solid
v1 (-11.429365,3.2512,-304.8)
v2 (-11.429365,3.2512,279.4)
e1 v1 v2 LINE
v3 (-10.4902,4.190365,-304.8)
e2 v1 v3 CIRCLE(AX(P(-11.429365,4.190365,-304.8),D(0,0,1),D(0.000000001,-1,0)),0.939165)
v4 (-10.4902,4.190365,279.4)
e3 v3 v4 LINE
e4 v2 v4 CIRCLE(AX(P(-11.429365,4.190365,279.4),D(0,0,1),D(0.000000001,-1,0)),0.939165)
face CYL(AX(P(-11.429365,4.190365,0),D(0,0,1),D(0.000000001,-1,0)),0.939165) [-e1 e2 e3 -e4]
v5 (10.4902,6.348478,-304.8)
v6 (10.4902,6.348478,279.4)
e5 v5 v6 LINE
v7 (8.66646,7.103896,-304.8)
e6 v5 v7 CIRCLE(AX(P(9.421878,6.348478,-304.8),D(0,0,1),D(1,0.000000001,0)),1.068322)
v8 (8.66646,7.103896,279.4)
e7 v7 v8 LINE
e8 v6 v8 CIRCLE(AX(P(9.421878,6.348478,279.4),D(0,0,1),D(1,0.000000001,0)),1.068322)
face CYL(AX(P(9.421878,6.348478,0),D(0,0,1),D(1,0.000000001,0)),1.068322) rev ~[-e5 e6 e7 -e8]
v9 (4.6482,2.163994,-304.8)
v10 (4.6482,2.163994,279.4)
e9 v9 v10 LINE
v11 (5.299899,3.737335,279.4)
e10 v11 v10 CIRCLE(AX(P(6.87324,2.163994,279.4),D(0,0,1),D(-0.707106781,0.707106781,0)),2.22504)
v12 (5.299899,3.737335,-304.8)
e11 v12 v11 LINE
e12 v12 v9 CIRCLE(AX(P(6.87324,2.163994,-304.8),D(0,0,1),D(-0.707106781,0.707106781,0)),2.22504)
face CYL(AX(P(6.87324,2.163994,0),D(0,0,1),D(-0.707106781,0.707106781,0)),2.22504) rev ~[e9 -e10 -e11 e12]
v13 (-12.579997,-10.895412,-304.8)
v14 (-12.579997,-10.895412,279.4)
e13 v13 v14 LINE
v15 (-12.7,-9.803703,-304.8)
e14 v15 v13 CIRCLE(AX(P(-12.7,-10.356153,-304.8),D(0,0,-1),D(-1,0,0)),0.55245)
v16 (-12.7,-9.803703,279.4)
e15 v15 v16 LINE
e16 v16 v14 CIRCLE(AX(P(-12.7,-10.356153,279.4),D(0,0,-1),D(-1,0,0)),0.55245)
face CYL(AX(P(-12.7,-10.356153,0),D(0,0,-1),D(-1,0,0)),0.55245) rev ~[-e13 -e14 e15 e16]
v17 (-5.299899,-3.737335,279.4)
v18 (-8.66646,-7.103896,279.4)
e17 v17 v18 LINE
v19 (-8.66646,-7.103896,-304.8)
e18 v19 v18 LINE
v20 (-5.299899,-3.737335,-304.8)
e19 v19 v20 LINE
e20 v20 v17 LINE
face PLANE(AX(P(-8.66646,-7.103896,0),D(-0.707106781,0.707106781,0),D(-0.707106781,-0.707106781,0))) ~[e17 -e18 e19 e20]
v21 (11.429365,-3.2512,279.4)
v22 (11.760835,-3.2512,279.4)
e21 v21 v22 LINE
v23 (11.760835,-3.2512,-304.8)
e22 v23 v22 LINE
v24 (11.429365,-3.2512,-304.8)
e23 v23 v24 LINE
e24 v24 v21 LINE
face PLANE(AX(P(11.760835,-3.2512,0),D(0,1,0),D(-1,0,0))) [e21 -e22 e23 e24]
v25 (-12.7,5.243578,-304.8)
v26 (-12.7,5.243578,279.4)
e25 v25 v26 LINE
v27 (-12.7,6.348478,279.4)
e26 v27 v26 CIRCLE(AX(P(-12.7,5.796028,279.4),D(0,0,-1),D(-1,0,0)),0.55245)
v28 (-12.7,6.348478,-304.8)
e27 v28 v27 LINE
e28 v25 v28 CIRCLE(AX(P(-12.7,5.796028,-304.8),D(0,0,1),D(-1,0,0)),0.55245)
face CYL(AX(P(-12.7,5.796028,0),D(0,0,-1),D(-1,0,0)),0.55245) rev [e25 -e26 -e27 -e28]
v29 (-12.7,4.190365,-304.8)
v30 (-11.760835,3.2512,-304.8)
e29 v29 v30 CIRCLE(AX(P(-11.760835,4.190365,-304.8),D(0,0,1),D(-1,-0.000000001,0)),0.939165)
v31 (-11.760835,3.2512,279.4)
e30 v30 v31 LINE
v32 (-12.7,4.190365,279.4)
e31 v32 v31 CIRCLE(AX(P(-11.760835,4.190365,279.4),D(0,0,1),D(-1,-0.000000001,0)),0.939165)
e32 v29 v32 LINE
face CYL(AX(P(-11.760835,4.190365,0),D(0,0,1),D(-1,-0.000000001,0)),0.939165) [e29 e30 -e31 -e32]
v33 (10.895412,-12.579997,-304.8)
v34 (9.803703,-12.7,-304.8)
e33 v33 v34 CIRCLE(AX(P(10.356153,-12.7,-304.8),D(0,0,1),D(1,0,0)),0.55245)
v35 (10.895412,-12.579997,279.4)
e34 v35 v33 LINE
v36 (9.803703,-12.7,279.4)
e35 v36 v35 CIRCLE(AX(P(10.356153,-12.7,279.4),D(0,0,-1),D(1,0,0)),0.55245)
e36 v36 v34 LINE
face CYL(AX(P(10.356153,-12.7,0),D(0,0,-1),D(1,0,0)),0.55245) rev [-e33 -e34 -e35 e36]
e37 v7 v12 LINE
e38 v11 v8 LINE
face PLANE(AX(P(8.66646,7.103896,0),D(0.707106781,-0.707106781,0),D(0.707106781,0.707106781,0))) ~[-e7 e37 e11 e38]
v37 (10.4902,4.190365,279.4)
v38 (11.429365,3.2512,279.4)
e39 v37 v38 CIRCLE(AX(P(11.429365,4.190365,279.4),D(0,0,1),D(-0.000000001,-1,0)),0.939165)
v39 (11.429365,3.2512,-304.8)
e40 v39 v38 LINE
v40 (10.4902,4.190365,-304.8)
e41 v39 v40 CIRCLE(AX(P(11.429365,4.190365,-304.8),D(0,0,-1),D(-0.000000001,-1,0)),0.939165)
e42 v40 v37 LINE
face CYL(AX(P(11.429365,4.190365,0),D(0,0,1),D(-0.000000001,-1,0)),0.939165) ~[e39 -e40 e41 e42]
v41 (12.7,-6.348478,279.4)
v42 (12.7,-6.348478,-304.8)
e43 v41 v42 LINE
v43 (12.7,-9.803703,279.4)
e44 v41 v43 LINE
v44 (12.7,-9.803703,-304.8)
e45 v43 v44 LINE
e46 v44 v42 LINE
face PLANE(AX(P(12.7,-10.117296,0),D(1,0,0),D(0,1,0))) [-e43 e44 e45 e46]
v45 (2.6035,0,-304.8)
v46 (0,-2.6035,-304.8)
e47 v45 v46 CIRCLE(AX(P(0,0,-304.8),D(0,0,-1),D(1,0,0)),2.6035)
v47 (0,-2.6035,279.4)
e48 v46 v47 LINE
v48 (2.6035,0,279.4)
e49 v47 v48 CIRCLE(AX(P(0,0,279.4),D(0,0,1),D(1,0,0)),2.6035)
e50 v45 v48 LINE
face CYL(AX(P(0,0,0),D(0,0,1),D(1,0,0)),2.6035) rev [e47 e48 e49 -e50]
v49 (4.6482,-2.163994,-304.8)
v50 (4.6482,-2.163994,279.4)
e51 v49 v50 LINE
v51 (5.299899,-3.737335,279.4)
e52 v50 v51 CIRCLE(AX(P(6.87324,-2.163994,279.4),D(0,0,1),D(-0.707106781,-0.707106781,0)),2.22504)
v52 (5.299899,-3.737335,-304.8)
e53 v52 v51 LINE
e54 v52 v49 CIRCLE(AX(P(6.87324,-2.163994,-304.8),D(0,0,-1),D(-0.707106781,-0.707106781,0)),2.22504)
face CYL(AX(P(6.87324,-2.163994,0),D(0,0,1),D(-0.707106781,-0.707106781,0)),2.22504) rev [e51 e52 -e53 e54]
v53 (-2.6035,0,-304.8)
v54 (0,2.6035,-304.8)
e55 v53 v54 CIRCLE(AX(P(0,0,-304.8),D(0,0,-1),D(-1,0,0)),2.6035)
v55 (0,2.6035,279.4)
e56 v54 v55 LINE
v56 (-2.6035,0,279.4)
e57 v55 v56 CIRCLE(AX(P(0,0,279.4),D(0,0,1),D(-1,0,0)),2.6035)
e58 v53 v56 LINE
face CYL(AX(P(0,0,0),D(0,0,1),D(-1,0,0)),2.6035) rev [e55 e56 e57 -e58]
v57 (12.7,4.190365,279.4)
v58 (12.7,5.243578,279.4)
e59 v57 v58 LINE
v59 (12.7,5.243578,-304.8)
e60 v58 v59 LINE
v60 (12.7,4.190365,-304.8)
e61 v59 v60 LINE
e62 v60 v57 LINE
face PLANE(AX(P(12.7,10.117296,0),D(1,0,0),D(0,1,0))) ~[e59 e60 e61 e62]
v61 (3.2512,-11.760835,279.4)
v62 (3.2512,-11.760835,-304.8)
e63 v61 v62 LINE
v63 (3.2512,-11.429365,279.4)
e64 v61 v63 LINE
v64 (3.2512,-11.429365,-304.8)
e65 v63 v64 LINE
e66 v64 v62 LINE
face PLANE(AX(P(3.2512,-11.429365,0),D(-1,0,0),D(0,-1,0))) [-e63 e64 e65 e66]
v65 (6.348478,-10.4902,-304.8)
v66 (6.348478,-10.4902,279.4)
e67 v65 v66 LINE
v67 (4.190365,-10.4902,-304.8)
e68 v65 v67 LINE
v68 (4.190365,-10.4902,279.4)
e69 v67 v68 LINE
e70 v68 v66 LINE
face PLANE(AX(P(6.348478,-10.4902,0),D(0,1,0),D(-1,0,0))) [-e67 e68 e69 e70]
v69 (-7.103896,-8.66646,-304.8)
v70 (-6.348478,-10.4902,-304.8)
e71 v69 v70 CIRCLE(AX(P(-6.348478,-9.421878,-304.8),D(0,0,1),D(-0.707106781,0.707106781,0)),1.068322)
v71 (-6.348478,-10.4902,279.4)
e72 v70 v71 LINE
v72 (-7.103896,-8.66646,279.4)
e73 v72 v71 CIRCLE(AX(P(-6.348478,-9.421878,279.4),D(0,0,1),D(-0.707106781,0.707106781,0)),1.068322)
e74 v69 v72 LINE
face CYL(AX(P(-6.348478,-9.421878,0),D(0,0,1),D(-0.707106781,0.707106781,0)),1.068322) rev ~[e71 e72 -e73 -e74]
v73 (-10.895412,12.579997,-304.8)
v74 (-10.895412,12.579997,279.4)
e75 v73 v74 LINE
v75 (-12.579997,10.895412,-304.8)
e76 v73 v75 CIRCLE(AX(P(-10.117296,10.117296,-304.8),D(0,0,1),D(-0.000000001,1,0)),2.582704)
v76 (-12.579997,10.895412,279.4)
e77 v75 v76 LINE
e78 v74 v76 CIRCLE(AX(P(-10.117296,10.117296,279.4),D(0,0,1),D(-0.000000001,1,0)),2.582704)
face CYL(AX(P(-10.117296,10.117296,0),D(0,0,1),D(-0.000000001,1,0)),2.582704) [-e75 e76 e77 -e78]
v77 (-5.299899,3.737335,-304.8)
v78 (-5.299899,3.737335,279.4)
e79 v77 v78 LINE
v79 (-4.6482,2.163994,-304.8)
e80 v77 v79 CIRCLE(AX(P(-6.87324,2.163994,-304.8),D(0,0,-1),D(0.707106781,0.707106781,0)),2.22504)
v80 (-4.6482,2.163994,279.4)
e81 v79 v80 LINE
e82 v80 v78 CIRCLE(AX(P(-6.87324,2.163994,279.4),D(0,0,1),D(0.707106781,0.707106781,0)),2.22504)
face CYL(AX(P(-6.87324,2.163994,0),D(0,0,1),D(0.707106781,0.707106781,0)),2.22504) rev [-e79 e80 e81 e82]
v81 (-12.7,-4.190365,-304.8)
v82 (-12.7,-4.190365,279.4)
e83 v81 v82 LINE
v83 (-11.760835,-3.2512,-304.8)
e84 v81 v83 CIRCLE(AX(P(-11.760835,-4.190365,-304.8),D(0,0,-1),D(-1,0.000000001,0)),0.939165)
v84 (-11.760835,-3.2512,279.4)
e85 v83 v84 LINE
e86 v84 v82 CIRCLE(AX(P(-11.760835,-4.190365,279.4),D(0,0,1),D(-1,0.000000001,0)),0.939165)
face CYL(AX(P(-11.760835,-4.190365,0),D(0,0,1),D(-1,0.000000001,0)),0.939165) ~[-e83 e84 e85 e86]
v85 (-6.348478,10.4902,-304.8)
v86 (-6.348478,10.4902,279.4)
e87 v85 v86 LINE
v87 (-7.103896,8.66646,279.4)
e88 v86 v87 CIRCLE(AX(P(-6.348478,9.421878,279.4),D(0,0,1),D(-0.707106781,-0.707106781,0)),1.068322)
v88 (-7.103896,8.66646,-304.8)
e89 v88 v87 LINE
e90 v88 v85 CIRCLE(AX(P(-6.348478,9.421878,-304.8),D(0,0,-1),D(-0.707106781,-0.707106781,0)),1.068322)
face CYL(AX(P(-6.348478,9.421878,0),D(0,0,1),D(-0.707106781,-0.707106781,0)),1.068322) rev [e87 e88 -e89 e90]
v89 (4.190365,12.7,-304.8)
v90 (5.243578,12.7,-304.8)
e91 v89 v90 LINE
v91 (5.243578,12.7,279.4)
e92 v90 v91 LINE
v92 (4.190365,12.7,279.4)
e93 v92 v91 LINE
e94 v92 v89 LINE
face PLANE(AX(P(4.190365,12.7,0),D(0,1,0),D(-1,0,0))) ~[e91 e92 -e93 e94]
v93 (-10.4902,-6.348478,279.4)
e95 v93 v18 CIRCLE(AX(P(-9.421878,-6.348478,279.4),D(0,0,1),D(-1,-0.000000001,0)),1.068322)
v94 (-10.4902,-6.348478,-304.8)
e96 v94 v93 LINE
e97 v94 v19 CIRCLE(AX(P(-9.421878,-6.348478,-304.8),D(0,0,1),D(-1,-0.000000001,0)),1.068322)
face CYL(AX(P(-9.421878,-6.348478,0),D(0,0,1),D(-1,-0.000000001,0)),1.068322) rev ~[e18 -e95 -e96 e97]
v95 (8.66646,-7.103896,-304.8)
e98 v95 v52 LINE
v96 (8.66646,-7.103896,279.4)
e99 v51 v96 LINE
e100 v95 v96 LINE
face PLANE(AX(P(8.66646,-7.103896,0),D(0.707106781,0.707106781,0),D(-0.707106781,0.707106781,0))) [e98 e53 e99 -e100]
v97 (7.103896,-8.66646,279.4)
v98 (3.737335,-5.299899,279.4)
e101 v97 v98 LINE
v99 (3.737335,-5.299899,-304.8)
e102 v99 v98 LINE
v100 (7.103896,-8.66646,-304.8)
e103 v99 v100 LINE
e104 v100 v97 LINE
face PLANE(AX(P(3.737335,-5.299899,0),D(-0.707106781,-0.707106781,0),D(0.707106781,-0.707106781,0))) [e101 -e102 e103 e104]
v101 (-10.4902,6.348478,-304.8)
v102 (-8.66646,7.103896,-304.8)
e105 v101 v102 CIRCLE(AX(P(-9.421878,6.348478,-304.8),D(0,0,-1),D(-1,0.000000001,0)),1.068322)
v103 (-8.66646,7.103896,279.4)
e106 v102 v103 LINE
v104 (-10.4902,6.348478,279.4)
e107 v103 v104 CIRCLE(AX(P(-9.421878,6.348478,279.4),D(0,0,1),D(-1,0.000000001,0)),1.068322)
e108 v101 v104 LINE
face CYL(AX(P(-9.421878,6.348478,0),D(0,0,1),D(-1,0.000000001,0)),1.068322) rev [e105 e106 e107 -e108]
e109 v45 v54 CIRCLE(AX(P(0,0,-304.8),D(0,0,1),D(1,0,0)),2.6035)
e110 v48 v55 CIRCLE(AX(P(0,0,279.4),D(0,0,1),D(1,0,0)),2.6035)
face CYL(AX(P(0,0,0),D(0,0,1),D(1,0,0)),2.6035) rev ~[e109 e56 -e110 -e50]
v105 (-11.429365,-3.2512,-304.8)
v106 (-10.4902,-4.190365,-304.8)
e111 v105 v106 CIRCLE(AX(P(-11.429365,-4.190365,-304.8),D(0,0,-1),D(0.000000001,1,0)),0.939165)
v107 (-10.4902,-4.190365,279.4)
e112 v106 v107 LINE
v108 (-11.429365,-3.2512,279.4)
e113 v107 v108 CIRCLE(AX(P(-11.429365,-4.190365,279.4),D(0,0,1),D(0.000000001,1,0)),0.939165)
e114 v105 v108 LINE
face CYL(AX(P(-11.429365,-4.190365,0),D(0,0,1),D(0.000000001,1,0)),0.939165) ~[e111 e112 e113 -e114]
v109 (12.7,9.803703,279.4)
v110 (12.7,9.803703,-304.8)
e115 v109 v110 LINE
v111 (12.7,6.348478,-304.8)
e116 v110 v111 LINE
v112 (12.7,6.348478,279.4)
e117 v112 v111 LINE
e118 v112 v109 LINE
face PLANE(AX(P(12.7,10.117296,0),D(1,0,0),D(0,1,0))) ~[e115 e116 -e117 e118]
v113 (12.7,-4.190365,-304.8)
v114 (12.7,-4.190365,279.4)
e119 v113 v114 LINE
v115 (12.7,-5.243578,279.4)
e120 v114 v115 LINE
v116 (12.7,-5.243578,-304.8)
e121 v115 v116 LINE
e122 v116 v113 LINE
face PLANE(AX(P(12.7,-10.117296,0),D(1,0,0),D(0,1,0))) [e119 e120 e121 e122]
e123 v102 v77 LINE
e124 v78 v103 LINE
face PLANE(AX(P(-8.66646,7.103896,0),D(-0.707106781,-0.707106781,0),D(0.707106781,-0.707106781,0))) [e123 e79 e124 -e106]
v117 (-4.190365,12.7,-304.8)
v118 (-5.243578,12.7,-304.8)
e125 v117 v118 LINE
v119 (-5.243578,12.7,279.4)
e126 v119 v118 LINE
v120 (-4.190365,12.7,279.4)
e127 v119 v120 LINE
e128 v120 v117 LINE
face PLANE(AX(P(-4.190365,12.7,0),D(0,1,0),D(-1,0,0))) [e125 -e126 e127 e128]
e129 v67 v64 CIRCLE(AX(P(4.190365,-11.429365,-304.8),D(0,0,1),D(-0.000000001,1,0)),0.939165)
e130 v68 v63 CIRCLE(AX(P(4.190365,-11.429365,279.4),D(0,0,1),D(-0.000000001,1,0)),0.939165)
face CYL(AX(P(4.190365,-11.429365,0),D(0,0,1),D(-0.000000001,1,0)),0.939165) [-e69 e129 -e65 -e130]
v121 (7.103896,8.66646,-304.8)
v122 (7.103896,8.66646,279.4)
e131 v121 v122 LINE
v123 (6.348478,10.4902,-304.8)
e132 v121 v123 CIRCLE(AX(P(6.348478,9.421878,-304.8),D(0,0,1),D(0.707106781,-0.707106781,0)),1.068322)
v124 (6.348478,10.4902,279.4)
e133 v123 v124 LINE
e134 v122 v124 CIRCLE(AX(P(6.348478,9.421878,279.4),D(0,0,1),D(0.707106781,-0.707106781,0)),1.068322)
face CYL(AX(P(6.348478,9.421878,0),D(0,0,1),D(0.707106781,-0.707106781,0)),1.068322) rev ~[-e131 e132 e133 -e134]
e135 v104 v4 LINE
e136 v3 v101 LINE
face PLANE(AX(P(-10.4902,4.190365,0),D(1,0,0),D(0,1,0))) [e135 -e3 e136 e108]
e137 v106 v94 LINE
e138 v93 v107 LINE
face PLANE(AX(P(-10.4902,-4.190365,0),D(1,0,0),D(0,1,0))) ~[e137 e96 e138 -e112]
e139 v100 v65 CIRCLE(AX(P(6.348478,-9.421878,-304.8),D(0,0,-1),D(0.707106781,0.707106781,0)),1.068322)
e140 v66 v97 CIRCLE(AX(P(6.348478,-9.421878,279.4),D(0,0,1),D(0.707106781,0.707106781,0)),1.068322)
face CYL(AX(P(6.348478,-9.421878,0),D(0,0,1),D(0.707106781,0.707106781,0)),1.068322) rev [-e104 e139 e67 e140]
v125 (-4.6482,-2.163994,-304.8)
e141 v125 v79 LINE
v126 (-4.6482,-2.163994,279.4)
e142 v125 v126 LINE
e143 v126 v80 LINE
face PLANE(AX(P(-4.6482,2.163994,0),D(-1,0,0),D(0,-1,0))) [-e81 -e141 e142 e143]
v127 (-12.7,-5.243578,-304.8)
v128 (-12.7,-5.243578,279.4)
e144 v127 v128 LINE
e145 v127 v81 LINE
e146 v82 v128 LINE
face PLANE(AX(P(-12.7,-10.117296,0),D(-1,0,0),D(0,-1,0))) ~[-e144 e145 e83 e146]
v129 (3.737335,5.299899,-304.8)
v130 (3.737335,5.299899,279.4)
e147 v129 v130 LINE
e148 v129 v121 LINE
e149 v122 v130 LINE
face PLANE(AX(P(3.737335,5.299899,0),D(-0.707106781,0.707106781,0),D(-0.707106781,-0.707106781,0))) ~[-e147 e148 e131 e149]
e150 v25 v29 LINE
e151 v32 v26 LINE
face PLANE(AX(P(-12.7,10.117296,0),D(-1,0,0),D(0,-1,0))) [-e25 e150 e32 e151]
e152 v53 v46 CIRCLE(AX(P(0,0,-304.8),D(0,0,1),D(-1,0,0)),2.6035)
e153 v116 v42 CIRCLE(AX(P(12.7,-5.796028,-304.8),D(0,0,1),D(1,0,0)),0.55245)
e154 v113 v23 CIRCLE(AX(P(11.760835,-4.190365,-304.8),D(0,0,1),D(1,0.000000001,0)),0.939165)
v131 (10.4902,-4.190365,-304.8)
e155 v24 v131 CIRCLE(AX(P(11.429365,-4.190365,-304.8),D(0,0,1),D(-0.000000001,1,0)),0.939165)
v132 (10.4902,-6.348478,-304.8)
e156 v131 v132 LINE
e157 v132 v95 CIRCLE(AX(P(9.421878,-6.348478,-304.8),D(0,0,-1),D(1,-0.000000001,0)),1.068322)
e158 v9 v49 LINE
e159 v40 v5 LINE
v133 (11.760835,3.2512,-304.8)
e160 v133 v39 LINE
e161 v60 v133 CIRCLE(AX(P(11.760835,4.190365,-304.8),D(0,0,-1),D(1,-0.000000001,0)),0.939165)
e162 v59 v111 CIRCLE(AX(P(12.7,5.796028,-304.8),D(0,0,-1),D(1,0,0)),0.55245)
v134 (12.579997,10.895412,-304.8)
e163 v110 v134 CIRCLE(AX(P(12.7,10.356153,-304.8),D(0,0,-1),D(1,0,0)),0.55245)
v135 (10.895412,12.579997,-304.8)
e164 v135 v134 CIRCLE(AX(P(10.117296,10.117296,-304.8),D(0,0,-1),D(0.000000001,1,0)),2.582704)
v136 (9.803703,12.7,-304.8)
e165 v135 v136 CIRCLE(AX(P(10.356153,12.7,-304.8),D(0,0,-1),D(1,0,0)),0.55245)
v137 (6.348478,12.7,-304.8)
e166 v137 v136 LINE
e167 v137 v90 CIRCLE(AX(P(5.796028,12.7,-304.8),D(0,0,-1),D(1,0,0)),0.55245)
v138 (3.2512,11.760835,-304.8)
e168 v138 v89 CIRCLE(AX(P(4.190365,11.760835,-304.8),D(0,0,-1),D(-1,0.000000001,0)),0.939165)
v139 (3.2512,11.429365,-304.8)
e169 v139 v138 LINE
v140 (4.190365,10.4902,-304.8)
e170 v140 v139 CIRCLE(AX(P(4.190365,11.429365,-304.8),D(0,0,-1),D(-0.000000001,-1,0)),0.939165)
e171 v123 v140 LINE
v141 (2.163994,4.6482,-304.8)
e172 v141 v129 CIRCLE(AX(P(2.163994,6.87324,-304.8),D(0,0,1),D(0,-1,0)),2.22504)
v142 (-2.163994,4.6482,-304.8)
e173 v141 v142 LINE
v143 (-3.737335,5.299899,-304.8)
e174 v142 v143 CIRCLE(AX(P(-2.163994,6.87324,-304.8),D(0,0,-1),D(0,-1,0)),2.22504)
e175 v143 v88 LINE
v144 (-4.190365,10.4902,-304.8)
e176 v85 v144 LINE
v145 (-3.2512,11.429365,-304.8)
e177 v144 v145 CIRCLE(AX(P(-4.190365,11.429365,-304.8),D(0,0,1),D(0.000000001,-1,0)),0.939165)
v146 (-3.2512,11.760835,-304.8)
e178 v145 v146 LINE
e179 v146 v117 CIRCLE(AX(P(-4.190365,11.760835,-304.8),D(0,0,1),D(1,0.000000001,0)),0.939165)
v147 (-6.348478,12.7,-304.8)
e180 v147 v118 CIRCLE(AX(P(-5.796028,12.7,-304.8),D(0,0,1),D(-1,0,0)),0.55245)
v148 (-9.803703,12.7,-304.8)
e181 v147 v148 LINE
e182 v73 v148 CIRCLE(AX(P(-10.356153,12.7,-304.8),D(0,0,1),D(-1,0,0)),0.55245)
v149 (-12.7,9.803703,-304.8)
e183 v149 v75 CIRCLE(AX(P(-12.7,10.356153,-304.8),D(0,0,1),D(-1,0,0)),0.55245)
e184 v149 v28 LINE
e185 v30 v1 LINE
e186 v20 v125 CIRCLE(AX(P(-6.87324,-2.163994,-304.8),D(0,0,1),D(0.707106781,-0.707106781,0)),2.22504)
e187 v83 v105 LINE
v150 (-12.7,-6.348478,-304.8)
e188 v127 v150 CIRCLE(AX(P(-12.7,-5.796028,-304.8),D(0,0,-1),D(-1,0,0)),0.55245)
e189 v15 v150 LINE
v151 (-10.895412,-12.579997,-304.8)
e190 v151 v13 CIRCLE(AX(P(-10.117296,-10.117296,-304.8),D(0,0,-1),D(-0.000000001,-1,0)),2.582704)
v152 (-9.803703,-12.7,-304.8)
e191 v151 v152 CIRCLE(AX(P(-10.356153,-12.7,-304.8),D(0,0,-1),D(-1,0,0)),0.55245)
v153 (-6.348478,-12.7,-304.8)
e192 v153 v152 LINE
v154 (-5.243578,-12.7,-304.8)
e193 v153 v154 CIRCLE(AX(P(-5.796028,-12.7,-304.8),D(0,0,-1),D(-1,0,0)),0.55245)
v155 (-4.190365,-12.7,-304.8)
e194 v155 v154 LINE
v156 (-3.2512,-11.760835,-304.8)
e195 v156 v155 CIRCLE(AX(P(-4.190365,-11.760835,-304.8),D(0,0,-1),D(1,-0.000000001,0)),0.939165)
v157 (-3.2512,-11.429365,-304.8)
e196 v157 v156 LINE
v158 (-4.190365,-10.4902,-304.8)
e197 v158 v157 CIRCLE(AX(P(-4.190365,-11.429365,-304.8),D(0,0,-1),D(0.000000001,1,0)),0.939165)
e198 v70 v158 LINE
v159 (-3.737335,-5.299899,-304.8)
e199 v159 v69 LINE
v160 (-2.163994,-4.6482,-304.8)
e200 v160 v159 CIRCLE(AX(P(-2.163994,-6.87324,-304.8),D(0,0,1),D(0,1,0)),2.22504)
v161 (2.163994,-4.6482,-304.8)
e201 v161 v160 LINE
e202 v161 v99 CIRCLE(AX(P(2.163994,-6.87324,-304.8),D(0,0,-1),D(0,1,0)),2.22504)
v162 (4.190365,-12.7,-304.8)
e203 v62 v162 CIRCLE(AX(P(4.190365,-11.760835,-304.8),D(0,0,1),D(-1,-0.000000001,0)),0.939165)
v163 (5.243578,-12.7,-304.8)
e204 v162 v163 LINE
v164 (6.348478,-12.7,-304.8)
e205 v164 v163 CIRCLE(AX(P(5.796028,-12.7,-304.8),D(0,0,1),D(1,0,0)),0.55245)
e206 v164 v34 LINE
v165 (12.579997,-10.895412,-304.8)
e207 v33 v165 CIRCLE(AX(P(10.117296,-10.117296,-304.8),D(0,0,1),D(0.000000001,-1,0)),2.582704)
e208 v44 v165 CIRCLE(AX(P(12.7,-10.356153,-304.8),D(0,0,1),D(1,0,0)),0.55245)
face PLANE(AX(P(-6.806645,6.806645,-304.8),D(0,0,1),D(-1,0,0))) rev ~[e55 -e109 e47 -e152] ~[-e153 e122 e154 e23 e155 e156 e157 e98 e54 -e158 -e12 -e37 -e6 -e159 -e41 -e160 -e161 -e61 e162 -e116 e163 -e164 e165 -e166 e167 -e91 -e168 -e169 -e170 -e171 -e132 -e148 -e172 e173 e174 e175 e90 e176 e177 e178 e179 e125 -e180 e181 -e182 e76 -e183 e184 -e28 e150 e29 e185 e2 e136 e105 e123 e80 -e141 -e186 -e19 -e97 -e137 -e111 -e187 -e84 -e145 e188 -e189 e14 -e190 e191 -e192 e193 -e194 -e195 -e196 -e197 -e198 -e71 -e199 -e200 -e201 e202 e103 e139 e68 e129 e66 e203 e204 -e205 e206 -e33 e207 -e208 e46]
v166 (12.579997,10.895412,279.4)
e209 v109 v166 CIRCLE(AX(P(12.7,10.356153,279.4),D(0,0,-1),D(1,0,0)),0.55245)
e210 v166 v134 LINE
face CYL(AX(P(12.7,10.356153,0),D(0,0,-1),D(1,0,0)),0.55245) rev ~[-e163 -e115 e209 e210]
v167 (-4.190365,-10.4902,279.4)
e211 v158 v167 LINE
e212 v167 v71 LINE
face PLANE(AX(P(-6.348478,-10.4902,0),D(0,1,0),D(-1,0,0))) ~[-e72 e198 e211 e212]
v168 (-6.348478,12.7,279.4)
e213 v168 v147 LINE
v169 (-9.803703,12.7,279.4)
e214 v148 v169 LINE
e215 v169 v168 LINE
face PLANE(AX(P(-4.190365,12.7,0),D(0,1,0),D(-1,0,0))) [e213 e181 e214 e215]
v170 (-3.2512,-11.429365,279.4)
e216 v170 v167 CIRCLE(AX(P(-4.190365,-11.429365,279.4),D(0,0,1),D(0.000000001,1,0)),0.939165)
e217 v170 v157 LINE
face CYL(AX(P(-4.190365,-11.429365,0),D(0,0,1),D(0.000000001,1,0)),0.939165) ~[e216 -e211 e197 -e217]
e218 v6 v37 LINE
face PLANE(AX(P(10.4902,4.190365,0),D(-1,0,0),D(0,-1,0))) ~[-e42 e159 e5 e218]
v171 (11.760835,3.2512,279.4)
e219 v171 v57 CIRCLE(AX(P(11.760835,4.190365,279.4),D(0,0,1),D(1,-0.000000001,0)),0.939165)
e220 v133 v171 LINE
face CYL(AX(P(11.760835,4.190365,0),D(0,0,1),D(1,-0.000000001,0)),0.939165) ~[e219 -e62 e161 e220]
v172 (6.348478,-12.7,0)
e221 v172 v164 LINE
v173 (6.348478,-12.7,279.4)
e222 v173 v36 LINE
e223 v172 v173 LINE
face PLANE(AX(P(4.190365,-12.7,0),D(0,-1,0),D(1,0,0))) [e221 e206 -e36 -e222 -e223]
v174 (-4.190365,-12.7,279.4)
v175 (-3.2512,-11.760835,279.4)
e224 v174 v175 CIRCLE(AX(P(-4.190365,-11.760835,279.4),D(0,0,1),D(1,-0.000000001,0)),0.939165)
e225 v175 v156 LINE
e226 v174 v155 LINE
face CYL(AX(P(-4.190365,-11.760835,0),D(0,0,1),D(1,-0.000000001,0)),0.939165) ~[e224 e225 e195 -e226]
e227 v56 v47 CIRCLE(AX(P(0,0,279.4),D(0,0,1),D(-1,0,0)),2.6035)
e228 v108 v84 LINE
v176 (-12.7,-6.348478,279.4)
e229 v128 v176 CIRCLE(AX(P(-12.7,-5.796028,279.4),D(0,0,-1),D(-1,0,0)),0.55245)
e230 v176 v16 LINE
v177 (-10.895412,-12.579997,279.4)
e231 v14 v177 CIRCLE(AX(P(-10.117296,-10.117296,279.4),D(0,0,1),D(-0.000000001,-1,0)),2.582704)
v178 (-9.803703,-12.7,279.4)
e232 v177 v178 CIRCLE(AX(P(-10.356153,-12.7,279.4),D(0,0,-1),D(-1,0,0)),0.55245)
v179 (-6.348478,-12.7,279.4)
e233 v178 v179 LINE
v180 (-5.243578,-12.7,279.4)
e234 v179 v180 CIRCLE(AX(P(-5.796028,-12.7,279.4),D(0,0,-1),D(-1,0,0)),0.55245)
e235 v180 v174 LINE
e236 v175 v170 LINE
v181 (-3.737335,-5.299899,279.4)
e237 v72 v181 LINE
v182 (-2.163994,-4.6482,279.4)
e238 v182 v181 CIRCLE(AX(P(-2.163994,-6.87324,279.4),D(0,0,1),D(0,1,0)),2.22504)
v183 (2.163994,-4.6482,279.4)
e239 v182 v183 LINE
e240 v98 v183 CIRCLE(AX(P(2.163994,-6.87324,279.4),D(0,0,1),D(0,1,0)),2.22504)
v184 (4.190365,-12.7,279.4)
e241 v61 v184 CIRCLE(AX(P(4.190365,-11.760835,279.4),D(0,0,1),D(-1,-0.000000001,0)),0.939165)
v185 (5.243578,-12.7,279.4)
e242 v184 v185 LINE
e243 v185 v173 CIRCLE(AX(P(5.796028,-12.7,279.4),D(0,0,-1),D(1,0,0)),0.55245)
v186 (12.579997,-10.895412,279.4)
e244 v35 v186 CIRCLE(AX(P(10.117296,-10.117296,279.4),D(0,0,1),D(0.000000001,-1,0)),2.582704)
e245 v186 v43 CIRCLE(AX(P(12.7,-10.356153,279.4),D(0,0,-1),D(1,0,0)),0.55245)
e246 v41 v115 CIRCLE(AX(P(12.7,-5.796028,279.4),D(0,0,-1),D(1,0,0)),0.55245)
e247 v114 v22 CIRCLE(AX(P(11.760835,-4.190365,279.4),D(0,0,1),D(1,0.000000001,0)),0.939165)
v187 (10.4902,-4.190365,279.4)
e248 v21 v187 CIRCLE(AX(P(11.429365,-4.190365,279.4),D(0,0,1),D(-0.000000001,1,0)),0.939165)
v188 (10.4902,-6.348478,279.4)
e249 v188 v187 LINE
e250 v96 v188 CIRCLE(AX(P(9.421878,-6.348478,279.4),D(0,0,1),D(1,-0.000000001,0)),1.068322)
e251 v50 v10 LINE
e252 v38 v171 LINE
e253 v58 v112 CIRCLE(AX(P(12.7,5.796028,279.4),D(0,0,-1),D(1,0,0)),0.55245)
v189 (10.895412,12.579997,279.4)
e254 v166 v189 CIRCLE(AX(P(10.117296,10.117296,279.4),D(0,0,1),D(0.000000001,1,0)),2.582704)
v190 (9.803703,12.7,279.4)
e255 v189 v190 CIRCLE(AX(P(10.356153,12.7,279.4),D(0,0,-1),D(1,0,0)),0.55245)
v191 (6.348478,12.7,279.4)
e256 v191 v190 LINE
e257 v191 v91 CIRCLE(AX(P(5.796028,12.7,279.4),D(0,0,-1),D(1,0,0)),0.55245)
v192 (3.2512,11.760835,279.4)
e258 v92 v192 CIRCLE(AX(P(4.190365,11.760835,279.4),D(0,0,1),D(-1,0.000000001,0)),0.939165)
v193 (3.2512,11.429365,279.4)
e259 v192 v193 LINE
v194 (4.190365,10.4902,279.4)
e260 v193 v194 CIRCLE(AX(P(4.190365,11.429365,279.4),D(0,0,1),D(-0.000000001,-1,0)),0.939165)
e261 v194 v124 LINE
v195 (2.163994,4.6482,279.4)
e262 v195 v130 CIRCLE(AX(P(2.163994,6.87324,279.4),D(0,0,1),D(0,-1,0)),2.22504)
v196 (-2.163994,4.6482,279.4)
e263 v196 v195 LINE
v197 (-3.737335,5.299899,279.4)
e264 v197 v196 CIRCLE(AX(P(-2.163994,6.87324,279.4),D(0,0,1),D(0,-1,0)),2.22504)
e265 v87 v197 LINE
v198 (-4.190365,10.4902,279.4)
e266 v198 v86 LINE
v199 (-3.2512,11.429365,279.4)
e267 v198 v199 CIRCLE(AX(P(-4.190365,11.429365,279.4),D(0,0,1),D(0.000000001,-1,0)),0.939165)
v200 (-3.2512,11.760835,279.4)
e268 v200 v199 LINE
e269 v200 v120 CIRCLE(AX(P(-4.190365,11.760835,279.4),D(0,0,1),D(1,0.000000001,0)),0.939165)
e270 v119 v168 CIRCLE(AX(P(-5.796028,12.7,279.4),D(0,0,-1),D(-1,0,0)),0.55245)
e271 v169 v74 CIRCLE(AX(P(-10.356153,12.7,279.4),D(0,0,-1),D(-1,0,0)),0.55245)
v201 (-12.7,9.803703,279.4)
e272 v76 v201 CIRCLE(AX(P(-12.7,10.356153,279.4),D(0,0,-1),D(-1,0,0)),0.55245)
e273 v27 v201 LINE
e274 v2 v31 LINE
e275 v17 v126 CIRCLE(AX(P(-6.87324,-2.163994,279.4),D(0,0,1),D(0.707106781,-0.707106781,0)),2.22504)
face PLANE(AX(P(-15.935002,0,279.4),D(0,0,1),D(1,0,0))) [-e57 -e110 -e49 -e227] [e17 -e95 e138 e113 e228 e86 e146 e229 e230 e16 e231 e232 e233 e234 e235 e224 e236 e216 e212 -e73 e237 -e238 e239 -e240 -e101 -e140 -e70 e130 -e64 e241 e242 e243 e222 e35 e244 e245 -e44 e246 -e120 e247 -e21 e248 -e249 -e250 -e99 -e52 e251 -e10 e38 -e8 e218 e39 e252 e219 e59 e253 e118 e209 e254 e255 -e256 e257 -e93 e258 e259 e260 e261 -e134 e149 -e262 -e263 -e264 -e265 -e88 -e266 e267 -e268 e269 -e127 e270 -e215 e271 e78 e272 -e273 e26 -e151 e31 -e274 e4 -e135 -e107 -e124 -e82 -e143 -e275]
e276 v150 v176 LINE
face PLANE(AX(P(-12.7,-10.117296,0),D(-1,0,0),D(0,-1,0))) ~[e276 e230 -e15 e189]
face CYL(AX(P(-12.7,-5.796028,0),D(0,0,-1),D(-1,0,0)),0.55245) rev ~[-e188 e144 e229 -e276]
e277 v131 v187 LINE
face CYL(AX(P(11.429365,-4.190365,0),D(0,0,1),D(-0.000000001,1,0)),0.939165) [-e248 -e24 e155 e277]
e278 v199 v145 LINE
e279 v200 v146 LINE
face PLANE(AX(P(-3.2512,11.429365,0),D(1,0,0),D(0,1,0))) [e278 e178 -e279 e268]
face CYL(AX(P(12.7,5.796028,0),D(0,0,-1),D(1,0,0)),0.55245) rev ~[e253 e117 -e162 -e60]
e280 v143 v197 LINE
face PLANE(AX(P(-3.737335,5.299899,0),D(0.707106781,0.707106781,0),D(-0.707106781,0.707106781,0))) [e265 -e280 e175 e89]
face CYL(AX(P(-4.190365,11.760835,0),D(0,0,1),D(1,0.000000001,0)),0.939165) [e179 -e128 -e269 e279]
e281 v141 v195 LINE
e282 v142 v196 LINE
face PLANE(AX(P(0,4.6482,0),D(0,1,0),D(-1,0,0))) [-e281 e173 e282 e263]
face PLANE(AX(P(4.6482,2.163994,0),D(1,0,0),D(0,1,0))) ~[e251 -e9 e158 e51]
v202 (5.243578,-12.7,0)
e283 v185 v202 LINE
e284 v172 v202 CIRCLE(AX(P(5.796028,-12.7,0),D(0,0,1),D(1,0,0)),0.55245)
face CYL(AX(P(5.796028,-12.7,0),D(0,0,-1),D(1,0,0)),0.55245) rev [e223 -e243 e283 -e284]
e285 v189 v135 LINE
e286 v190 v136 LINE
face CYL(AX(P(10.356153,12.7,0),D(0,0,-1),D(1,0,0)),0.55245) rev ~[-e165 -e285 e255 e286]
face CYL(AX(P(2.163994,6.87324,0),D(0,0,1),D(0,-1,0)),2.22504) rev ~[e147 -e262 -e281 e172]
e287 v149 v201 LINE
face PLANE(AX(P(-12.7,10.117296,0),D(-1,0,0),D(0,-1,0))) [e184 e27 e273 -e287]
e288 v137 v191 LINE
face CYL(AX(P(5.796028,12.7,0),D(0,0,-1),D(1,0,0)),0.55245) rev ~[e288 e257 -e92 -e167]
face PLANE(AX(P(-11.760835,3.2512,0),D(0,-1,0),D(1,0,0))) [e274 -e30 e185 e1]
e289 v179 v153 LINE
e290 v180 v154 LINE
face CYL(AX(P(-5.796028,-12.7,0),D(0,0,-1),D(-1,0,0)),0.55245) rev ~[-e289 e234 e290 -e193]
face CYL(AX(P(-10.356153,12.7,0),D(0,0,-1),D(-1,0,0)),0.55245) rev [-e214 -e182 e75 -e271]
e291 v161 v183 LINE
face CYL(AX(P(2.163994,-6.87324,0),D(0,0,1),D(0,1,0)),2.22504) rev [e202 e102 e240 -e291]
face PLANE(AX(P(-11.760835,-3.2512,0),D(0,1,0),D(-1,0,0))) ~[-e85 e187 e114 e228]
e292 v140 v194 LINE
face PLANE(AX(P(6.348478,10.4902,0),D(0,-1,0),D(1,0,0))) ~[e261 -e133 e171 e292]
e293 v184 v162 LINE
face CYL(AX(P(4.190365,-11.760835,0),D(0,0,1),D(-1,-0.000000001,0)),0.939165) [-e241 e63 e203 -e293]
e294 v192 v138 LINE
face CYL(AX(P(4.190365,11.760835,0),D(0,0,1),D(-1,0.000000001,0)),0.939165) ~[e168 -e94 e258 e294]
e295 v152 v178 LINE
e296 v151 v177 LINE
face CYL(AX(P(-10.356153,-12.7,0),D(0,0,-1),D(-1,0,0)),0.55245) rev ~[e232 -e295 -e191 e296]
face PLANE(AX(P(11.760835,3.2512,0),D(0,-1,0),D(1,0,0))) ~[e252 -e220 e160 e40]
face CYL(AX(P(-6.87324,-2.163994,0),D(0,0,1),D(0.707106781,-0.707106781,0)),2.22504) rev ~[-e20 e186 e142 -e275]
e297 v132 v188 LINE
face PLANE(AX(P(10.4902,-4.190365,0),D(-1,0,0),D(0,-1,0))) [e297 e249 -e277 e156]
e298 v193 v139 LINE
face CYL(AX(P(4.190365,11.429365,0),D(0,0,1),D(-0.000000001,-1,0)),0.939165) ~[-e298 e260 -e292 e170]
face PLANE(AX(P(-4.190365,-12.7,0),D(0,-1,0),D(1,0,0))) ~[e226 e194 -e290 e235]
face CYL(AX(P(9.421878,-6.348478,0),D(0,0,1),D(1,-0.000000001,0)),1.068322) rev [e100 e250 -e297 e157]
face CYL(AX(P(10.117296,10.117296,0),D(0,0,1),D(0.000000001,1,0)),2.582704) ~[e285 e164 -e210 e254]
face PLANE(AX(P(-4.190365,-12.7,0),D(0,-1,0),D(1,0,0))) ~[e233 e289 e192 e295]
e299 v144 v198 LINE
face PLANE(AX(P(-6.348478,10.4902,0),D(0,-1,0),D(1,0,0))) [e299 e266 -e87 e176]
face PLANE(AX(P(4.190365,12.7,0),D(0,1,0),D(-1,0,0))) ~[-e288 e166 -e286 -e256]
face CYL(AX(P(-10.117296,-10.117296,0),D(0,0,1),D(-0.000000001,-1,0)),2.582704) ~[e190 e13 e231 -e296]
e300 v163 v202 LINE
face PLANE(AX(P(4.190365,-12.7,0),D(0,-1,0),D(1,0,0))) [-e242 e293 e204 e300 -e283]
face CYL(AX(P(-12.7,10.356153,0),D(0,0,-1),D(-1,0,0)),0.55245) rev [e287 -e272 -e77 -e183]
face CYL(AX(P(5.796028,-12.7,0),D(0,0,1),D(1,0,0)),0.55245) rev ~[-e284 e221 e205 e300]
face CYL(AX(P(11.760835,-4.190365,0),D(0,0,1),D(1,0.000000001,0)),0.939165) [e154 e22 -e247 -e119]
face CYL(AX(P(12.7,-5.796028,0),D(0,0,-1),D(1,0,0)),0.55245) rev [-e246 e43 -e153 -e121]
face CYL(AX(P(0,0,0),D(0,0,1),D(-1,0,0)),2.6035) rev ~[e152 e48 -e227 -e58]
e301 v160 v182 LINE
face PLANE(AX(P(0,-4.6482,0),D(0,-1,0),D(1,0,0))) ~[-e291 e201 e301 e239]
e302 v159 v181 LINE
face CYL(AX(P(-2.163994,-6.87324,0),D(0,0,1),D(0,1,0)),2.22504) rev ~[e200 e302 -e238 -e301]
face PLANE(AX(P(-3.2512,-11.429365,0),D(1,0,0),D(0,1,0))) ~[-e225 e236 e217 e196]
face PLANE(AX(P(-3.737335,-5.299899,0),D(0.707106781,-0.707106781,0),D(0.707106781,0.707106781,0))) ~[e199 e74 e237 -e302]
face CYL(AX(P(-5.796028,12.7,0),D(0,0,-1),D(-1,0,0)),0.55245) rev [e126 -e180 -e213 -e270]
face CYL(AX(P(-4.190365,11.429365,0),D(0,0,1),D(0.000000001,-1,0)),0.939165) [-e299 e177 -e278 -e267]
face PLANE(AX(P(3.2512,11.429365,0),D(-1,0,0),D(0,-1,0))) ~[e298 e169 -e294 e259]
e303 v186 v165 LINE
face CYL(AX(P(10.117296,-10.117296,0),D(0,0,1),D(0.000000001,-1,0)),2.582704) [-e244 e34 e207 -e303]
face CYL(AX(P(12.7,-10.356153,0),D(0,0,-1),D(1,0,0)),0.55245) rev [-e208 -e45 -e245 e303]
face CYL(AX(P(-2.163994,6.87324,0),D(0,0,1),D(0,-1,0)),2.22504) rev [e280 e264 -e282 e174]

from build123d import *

# Parameters (mm, degrees)
BOSS_EXTRUDE1_DEPTH     = 304.8
SKETCH5_R               = 0.55245
CUT_EXTRUDE1_DEPTH      = 305.8
CUT_EXTRUDE1_DEPTH_BACK = 305.8
SKETCH6_W               = 31.75
SKETCH6_H               = 25.4
CUT_EXTRUDE2_DEPTH      = 12.7


with BuildPart() as part:
    # Sketch4 → Boss-Extrude1 (new body, symmetric)
    with BuildSketch(Plane.XY):
        with BuildLine():
            Line((4.190365, -12.7), (10.11729625, -12.7))
            ThreePointArc((10.11729625, -12.7), (11.943543585, -11.943543585), (12.7, -10.11729625))
            Line((12.7, -10.11729625), (12.7, -4.190365))
            ThreePointArc((12.7, -4.190365), (12.42492494, -3.52627506), (11.760835, -3.2512))
            Line((11.760835, -3.2512), (11.429365, -3.2512))
            ThreePointArc((11.429365, -3.2512), (10.76527506, -3.52627506), (10.4902, -4.190365))
            Line((10.4902, -4.190365), (10.4902, -6.348478019))
            ThreePointArc((10.4902, -6.348478019), (9.830707141, -7.335478831), (8.666460301, -7.103895736))
            Line((8.666460301, -7.103895736), (5.299899128, -3.737334563))
            ThreePointArc((5.299899128, -3.737334563), (4.817571085, -3.015479634), (4.6482, -2.16399369))
            Line((4.6482, -2.16399369), (4.6482, 0))
            Line((4.6482, 0), (2.6035, 0))
            ThreePointArc((2.6035, 0), (1.840952505, -1.840952505), (0, -2.6035))
            Line((0, -2.6035), (0, -4.6482))
            Line((0, -4.6482), (2.16399369, -4.6482))
            ThreePointArc((2.16399369, -4.6482), (3.015479634, -4.817571085), (3.737334563, -5.299899128))
            Line((3.737334563, -5.299899128), (7.103895736, -8.666460301))
            ThreePointArc((7.103895736, -8.666460301), (7.335478831, -9.830707141), (6.348478019, -10.4902))
            Line((6.348478019, -10.4902), (4.190365, -10.4902))
            ThreePointArc((4.190365, -10.4902), (3.52627506, -10.76527506), (3.2512, -11.429365))
            Line((3.2512, -11.429365), (3.2512, -11.760835))
            ThreePointArc((3.2512, -11.760835), (3.52627506, -12.42492494), (4.190365, -12.7))
        make_face()
    extrude(amount=BOSS_EXTRUDE1_DEPTH, both=True)

    # Sketch5 → Cut-Extrude1 (cut, two sides)
    with BuildSketch(Plane.XY) as cut_extrude1_sk:
        with Locations((10.356153152, -12.7)):
            Circle(SKETCH5_R)
        with Locations((5.796028019, -12.7)):
            Circle(SKETCH5_R)
        with Locations((12.7, -10.356153152)):
            Circle(SKETCH5_R)
        with Locations((12.7, -5.796028019)):
            Circle(SKETCH5_R)
    extrude(amount=CUT_EXTRUDE1_DEPTH, mode=Mode.SUBTRACT)
    extrude(cut_extrude1_sk.sketch, amount=-CUT_EXTRUDE1_DEPTH_BACK, mode=Mode.SUBTRACT)

    # Mirror1: part across plane


with BuildPart() as part_1:
    add(part.part)
    add(part.part.mirror(Plane(origin=(0, 0, 0), x_dir=(0, 0, 1), z_dir=(1, 0, 0))))

    # Mirror2: part across plane


with BuildPart() as part_2:
    add(part_1.part)
    add(part_1.part.mirror(Plane.ZX))

    # Sketch6 → Cut-Extrude2 (cut, symmetric)
    with BuildSketch(Plane(origin=(0, 0, 0), x_dir=(1, 0, 0), z_dir=(0, 1, 0))):
        with Locations((-0.060001566, -292.1)):
            Rectangle(SKETCH6_W, SKETCH6_H)
    extrude(amount=CUT_EXTRUDE2_DEPTH, both=True, mode=Mode.SUBTRACT)


solid = part_2.part
